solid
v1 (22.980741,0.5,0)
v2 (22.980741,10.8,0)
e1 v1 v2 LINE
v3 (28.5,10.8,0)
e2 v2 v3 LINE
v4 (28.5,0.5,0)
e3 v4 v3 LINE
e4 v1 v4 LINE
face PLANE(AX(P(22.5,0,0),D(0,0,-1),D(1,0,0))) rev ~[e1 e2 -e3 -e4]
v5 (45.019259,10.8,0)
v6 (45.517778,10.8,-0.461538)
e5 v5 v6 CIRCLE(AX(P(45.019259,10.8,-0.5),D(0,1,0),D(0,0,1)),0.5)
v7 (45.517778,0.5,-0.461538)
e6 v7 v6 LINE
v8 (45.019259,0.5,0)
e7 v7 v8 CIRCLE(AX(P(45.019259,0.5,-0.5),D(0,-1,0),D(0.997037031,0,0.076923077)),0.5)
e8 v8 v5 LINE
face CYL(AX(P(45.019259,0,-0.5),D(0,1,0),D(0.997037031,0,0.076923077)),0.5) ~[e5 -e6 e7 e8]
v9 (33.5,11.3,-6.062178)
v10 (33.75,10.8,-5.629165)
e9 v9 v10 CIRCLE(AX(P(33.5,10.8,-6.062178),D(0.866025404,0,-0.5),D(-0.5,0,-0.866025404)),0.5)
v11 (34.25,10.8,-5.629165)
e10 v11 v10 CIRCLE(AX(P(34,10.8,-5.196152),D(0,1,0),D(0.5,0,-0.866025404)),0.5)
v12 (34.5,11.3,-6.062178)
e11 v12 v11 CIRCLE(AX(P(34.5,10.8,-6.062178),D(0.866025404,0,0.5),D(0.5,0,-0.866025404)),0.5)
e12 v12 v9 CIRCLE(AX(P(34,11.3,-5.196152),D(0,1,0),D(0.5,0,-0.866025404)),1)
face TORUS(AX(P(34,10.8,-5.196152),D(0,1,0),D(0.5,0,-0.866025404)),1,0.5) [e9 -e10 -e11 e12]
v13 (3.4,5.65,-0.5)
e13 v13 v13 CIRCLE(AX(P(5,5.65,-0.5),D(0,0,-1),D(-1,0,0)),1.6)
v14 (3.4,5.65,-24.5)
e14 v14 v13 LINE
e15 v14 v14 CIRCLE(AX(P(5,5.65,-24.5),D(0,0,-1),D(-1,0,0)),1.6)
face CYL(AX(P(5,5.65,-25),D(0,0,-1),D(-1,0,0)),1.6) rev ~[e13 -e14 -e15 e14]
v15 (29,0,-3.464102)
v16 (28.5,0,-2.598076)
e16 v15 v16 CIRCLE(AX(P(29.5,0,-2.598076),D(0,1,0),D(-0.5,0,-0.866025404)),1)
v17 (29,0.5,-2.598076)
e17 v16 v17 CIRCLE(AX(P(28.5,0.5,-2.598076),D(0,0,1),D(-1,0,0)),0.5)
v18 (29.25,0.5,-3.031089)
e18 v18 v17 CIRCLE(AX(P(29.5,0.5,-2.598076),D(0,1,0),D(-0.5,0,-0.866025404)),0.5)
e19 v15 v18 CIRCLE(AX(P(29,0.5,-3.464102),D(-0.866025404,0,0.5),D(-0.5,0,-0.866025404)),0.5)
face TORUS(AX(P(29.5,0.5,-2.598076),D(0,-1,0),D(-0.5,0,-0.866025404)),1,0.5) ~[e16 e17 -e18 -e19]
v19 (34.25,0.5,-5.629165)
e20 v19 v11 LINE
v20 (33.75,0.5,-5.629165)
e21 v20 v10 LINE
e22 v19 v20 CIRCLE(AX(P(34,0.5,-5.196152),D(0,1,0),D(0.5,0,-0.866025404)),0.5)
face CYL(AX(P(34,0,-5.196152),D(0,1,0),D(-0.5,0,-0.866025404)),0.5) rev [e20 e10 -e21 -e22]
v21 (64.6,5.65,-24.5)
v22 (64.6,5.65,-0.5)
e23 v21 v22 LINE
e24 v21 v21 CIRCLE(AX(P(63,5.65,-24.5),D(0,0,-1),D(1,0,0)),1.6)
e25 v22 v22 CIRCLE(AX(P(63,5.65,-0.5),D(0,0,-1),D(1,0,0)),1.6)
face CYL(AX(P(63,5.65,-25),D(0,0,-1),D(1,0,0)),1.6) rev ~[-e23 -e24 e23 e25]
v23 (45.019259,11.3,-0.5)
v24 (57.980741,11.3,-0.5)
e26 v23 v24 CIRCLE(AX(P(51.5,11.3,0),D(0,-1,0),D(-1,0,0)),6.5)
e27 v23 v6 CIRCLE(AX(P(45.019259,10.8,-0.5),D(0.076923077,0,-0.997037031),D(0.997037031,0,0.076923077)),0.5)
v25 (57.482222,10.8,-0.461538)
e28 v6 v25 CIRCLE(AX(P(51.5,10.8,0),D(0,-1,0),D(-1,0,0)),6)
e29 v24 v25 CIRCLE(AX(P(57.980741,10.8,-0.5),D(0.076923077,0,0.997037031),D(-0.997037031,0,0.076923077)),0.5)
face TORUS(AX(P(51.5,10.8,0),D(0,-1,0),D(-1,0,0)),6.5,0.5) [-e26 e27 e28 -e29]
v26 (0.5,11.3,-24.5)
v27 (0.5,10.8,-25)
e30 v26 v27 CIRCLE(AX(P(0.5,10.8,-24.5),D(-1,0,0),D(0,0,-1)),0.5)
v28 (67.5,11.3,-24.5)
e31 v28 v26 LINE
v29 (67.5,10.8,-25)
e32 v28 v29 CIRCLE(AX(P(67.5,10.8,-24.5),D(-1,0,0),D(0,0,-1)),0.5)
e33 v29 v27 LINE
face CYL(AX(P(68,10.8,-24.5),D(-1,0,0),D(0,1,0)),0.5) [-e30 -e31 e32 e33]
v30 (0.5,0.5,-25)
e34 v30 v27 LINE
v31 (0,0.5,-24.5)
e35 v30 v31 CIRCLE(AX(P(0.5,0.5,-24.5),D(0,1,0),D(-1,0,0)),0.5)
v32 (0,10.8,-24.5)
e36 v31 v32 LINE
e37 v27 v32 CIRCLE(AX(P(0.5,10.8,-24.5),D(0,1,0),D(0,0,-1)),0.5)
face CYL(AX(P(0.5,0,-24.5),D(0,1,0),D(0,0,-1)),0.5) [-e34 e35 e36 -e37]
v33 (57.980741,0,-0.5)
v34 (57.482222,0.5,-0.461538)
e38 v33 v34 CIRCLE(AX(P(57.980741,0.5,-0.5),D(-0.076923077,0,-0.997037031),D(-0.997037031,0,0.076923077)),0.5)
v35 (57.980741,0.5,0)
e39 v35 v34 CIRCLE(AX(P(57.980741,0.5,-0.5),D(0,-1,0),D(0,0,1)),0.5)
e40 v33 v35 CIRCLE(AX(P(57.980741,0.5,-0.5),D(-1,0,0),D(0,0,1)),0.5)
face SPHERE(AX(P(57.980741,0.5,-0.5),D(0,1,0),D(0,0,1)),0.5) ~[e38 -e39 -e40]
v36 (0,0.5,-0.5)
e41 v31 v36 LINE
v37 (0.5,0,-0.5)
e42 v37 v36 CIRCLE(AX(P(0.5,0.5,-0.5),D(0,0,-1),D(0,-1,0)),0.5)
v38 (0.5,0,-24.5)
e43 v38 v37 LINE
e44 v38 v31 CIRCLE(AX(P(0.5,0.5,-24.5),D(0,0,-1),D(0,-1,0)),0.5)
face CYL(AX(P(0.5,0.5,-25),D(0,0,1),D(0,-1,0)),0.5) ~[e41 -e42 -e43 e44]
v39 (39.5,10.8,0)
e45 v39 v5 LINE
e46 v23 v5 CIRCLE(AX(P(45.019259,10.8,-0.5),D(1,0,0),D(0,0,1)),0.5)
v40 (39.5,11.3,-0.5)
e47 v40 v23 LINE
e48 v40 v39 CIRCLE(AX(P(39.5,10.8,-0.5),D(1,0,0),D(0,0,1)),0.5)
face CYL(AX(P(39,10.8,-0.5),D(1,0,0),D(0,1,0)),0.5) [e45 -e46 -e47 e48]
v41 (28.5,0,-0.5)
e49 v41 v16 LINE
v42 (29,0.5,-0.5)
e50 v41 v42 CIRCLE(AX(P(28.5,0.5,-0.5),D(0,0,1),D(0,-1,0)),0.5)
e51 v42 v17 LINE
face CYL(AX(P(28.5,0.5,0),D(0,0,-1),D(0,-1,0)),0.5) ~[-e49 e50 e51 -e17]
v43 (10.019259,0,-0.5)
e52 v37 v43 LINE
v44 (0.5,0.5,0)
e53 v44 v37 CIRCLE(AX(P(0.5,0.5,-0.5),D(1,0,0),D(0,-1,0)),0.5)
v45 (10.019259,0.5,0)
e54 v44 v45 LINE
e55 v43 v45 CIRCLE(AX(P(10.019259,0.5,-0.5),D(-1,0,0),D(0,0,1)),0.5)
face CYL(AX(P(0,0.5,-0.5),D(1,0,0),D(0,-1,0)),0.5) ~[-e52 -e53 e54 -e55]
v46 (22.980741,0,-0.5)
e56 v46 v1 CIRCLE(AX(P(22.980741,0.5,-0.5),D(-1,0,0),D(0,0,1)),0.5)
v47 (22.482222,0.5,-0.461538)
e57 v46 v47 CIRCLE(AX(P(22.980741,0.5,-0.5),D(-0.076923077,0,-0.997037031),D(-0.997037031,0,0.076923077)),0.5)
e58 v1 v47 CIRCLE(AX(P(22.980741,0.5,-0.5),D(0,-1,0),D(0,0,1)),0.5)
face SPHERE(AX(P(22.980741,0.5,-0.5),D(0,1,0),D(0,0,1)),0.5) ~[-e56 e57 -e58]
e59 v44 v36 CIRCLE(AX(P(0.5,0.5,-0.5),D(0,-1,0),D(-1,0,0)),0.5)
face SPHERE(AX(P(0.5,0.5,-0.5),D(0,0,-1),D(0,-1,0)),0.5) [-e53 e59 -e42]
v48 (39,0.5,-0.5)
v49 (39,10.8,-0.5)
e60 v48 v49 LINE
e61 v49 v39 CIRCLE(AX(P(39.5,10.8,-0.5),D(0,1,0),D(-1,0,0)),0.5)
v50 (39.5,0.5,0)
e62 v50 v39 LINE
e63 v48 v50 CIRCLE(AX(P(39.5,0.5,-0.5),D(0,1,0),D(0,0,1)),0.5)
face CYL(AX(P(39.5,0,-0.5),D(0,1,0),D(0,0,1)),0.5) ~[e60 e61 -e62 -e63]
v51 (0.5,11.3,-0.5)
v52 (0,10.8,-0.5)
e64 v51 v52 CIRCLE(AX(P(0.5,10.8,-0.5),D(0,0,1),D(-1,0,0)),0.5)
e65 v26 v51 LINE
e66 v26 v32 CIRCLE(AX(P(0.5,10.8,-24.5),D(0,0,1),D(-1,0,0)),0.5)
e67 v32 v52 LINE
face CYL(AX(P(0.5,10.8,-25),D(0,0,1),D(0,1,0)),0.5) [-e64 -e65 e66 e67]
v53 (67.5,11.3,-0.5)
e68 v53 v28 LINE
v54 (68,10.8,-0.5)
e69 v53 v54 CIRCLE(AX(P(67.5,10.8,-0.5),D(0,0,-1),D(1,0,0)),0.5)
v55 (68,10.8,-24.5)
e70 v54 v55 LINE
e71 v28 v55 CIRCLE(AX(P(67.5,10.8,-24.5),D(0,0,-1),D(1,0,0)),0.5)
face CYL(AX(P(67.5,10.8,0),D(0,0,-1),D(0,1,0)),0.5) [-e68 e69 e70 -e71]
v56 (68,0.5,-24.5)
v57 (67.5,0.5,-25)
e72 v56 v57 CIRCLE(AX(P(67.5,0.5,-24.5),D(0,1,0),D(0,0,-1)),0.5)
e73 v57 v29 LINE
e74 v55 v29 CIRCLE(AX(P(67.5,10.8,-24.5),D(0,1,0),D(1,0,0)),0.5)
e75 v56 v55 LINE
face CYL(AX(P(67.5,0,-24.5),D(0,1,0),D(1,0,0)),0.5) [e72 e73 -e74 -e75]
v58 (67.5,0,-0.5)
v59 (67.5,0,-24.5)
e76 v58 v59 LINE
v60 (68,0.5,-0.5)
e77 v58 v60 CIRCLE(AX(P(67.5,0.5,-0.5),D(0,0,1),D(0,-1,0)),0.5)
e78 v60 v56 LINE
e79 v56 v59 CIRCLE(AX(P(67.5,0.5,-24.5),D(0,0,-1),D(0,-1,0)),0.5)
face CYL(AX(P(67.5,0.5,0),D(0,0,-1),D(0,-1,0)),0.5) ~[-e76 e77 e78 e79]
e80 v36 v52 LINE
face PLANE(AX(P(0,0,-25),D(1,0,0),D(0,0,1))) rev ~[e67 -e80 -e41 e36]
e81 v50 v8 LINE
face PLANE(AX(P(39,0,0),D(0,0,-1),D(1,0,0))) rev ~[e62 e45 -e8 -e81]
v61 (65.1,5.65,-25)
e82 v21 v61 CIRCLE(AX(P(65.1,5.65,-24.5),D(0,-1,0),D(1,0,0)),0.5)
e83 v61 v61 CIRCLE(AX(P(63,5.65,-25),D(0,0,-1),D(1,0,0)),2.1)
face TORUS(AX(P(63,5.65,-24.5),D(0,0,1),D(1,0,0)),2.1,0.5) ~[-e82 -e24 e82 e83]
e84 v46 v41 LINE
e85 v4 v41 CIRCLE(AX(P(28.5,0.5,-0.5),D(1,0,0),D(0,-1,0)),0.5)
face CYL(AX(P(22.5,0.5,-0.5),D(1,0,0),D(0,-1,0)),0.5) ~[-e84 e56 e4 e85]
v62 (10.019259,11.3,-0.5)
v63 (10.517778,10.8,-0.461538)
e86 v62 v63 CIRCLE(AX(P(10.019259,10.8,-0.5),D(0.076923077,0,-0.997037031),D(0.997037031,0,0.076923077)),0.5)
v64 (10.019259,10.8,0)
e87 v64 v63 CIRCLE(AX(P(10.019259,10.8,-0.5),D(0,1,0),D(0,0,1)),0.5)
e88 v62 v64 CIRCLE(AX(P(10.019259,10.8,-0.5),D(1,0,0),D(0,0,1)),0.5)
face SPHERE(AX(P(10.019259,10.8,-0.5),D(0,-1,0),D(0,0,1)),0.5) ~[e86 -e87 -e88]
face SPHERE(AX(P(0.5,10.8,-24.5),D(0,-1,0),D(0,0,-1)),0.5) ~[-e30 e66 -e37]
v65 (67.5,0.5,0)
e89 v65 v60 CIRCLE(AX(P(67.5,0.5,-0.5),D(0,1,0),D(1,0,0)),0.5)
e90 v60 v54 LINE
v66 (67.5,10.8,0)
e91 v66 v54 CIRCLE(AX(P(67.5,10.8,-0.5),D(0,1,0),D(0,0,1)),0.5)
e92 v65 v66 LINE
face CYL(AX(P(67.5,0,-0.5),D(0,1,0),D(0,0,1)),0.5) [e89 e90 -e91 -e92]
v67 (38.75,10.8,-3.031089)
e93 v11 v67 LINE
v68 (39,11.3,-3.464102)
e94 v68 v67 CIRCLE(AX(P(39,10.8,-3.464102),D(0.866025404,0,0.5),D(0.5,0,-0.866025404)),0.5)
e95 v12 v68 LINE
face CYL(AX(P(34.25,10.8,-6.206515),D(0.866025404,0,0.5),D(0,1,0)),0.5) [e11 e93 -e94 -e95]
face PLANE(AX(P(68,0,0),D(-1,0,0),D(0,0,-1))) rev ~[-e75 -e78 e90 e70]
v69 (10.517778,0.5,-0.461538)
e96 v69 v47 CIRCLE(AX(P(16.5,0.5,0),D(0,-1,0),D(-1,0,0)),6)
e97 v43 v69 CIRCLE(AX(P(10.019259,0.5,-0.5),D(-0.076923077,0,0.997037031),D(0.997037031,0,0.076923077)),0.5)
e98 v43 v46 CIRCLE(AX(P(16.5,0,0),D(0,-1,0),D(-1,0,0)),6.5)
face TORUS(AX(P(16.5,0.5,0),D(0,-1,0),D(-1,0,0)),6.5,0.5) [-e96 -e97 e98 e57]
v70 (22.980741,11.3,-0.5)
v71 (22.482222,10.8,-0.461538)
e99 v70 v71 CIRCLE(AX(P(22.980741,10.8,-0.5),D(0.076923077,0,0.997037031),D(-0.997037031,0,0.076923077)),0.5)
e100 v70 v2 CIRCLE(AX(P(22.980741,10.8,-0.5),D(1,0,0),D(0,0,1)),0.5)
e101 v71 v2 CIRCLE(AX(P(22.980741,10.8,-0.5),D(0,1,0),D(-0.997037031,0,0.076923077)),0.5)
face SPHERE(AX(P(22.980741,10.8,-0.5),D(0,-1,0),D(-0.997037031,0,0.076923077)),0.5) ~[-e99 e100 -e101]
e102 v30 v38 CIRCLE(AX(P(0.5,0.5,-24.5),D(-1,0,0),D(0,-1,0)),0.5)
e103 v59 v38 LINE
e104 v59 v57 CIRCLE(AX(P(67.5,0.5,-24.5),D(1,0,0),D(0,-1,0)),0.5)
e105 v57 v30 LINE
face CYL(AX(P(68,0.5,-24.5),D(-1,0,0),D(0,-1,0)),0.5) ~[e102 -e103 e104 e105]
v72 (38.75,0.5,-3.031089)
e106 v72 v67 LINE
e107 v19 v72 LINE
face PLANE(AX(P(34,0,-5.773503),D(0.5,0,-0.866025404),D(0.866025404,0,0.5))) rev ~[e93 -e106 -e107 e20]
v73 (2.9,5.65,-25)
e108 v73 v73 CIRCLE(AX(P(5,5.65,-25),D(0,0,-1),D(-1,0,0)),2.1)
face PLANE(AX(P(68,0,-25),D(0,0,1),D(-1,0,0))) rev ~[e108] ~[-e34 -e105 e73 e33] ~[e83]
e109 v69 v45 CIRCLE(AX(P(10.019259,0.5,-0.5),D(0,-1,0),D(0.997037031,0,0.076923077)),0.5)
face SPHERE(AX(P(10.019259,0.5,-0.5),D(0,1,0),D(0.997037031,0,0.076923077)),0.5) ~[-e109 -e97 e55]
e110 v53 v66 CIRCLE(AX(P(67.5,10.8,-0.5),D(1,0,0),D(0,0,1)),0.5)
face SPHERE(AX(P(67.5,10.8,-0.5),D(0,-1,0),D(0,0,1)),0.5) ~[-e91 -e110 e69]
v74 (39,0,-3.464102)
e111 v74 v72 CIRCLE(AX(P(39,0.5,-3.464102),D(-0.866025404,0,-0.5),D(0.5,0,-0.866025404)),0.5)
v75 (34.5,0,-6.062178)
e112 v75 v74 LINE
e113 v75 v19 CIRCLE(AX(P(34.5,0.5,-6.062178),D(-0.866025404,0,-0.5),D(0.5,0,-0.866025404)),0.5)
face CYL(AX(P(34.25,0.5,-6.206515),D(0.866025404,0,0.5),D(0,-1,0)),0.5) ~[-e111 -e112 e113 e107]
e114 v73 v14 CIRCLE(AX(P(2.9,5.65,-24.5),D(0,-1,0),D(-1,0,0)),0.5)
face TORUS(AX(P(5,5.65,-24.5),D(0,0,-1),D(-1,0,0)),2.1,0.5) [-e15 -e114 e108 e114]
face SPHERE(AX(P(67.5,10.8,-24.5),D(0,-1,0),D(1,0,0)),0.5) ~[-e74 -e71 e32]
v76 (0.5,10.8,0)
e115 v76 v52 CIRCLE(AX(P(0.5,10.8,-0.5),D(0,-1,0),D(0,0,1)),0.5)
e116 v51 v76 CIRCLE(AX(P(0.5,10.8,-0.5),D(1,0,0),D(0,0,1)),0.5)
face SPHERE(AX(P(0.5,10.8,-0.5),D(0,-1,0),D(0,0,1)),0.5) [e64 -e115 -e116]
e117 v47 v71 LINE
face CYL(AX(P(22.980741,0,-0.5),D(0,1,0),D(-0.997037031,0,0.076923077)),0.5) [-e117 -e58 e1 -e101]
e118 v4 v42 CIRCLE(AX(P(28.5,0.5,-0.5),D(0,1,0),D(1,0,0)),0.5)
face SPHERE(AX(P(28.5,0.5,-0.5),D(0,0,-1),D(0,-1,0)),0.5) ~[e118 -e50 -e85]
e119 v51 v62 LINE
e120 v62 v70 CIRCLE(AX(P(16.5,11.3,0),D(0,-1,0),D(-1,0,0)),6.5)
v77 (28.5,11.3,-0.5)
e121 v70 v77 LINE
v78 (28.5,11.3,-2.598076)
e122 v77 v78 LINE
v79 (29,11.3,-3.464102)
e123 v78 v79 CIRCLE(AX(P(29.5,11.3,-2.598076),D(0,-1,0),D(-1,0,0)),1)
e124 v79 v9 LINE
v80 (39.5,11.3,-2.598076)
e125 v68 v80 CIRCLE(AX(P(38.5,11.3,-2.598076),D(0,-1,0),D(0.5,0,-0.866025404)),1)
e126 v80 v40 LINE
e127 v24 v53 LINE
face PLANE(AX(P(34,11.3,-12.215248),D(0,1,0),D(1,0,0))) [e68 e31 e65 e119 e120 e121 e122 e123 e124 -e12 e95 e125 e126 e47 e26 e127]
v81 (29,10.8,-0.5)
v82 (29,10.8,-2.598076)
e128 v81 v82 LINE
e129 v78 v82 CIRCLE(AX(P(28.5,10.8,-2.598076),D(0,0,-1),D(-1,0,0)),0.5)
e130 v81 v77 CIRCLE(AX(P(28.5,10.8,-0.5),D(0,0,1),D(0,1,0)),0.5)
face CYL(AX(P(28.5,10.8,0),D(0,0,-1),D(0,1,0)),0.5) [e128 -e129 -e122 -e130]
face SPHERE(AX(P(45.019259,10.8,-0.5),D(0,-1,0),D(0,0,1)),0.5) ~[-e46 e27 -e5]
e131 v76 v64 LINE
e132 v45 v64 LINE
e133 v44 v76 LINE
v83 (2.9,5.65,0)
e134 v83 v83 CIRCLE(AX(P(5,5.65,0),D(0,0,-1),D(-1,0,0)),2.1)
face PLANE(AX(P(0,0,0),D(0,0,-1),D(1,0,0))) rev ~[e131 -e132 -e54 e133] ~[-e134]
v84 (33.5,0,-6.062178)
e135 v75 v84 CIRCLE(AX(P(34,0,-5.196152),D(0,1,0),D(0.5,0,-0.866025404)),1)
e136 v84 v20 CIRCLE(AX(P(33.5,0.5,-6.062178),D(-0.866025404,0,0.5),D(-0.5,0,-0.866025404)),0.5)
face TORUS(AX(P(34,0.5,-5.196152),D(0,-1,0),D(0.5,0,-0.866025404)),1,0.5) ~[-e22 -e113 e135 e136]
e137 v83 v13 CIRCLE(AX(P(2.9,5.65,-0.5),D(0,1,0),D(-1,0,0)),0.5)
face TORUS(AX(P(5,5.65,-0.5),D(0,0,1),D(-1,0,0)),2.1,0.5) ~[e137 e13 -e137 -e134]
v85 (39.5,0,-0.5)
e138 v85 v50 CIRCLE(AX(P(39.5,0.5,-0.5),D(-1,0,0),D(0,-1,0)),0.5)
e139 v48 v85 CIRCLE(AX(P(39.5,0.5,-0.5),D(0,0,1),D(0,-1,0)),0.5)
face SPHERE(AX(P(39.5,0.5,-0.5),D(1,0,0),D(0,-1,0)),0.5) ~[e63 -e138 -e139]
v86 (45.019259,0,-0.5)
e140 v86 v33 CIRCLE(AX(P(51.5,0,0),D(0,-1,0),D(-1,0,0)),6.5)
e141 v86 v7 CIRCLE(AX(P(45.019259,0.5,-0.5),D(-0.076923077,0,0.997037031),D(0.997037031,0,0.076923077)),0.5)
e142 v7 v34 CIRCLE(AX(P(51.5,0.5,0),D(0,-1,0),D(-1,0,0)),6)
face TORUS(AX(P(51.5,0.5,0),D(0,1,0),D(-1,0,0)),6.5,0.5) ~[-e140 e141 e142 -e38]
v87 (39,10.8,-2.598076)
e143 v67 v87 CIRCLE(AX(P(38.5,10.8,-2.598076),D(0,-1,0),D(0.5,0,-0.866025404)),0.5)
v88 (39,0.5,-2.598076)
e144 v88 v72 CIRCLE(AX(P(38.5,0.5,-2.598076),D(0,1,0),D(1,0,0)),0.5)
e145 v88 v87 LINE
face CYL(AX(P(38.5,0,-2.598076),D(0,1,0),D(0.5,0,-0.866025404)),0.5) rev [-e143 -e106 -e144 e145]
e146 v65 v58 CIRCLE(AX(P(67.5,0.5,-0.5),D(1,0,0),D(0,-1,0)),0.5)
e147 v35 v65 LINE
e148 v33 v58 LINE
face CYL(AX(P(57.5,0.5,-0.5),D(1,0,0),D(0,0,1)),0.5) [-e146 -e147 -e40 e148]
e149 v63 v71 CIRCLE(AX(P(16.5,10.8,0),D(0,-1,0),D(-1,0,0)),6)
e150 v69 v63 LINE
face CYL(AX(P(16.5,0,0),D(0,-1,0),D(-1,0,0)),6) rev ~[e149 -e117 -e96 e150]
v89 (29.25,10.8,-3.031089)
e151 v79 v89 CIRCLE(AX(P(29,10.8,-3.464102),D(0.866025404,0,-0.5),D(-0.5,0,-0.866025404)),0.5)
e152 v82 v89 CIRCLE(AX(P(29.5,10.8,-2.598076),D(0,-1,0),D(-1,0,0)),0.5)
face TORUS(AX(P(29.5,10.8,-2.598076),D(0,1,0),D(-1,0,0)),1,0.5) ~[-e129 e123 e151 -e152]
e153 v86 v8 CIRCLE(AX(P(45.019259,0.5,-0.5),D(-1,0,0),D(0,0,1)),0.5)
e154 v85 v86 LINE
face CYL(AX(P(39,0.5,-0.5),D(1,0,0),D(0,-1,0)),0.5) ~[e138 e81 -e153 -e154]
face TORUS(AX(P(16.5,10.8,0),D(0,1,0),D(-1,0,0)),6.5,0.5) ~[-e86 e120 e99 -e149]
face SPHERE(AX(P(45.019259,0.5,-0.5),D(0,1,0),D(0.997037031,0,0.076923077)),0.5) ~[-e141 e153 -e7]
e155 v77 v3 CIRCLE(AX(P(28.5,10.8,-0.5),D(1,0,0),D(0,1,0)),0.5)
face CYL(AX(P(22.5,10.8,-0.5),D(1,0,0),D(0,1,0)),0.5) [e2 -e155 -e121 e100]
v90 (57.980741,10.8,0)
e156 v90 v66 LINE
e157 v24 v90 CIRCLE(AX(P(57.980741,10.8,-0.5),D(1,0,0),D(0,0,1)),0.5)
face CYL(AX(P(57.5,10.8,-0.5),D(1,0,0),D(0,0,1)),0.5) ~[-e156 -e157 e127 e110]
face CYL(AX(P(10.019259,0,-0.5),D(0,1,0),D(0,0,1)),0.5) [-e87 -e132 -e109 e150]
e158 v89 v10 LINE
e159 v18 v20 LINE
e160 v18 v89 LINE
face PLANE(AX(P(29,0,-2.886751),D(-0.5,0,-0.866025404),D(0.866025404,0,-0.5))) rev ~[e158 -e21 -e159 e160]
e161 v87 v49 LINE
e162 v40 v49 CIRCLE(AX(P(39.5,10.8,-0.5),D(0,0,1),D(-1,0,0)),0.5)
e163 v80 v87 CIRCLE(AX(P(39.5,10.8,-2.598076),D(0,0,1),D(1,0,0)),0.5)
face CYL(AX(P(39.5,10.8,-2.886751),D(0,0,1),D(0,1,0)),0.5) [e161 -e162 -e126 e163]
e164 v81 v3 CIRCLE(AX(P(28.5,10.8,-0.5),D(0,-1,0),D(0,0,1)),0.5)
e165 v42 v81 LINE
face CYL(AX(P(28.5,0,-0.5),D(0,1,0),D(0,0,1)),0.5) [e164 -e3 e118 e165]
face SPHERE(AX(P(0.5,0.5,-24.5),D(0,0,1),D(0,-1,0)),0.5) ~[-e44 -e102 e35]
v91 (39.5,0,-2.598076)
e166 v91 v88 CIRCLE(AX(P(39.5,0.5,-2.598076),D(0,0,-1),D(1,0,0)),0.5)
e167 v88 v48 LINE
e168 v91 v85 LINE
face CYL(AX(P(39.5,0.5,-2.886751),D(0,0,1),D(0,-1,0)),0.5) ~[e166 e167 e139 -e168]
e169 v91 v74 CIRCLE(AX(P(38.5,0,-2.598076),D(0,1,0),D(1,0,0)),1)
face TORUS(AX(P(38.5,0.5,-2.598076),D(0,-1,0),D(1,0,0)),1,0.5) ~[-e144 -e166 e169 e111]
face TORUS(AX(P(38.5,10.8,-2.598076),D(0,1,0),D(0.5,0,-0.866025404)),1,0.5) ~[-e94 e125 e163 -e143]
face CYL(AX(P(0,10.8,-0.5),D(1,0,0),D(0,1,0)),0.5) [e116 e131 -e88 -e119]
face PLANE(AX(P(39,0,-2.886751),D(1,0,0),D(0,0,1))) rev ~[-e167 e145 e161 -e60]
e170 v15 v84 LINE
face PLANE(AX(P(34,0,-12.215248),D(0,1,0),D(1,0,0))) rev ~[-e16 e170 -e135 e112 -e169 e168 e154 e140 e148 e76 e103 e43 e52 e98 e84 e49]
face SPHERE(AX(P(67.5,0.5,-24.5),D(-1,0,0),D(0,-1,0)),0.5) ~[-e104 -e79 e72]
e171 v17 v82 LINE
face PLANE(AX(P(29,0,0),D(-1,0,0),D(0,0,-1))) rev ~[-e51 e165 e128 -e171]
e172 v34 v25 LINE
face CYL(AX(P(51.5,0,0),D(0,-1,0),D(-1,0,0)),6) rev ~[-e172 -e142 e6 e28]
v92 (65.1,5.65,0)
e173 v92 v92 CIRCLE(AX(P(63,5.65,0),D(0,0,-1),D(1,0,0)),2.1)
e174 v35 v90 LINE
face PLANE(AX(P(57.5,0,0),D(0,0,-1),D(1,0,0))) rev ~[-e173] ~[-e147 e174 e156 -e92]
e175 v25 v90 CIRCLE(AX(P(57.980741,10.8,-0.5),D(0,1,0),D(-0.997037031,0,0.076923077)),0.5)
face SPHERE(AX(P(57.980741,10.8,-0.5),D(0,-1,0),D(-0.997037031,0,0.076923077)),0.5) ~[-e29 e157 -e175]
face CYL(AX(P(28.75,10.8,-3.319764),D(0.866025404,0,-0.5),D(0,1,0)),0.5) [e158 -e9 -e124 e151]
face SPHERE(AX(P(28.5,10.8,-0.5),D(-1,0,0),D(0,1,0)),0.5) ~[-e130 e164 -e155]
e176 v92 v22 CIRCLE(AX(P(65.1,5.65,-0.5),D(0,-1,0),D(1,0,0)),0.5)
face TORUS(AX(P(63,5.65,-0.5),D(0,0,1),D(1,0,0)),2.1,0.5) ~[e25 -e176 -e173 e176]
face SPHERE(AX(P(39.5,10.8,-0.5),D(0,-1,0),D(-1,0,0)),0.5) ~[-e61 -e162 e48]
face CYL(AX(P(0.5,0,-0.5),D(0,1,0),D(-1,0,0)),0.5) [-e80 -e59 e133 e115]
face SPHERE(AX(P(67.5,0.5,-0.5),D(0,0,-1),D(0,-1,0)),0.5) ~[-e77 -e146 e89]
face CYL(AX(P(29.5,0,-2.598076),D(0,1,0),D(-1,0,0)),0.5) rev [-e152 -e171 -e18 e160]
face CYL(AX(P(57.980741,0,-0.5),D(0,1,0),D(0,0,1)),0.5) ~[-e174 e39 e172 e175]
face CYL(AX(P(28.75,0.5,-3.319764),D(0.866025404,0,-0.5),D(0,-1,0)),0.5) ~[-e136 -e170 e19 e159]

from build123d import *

# Parameters (mm, degrees)
BOSS_EXTRUDE1_DEPTH = 11.3
SKETCH2_R           = 1.6
CUT_EXTRUDE1_DEPTH  = 74.325916292
FILLET1_R           = 0.5


with BuildPart() as part:
    # Sketch1 → Boss-Extrude1 (new body)
    with BuildSketch(Plane(origin=(0, 0, 0), x_dir=(1, 0, 0), z_dir=(0, 1, 0))):
        with BuildLine():
            Line((57.5, 0), (68, 0))
            Line((68, 0), (68, 25))
            Line((68, 25), (0, 25))
            Line((0, 25), (0, 0))
            Line((0, 0), (10.5, 0))
            ThreePointArc((10.5, 0), (16.5, 6), (22.5, 0))
            Line((22.5, 0), (29, 0))
            Line((29, 0), (29, 2.886751346))
            Line((29, 2.886751346), (34, 5.773502692))
            Line((34, 5.773502692), (39, 2.886751346))
            Line((39, 2.886751346), (39, 0))
            Line((39, 0), (45.5, 0))
            ThreePointArc((45.5, 0), (51.5, 6), (57.5, 0))
        make_face()
    extrude(amount=BOSS_EXTRUDE1_DEPTH)

    # Sketch2 → Cut-Extrude1 (cut, through all)
    with BuildSketch(Plane(origin=(0, 0, -25), x_dir=(-1, 0, 0), z_dir=(0, 0, -1))):
        with Locations((-5, 5.65)):
            Circle(SKETCH2_R)
        with Locations(Location((-63, 5.65, 0), (0, 0, 180))):
            Circle(SKETCH2_R)
    extrude(amount=-CUT_EXTRUDE1_DEPTH, mode=Mode.SUBTRACT)

    # Fillet1
    fillet1_edges = [part.edges().sort_by_distance(p)[0] for p in [
        (25.75, 11.3, 0),
        (0, 0, -12.5),
        (34, 0, -25),
        (68, 0, -12.5),
        (62.75, 0, 0),
        (51.5, 0, -6),
        (42.25, 0, 0),
        (39, 0, -1.443375673),
        (36.5, 0, -4.330127019),
        (31.5, 0, -4.330127019),
        (29, 0, -1.443375673),
        (29, 11.3, -1.443375673),
        (25.75, 0, 0),
        (16.5, 0, -6),
        (5.25, 0, 0),
        (31.5, 11.3, -4.330127019),
        (0, 5.65, 0),
        (0, 5.65, -25),
        (68, 5.65, -25),
        (68, 5.65, 0),
        (57.5, 5.65, 0),
        (45.5, 5.65, 0),
        (39, 5.65, 0),
        (39, 5.65, -2.886751346),
        (34, 5.65, -5.773502692),
        (29, 5.65, -2.886751346),
        (29, 5.65, 0),
        (22.5, 5.65, 0),
        (10.5, 5.65, 0),
        (36.5, 11.3, -4.330127019),
        (39, 11.3, -1.443375673),
        (42.25, 11.3, 0),
        (51.5, 11.3, -6),
        (6.6, 5.65, 0),
        (6.6, 5.65, -25),
        (62.75, 11.3, 0),
        (61.4, 5.65, 0),
        (61.4, 5.65, -25),
        (68, 11.3, -12.5),
        (34, 11.3, -25),
        (5.25, 11.3, 0),
        (0, 11.3, -12.5),
        (16.5, 11.3, -6),
    ]]
    fillet(fillet1_edges, radius=FILLET1_R)


solid = part.part
